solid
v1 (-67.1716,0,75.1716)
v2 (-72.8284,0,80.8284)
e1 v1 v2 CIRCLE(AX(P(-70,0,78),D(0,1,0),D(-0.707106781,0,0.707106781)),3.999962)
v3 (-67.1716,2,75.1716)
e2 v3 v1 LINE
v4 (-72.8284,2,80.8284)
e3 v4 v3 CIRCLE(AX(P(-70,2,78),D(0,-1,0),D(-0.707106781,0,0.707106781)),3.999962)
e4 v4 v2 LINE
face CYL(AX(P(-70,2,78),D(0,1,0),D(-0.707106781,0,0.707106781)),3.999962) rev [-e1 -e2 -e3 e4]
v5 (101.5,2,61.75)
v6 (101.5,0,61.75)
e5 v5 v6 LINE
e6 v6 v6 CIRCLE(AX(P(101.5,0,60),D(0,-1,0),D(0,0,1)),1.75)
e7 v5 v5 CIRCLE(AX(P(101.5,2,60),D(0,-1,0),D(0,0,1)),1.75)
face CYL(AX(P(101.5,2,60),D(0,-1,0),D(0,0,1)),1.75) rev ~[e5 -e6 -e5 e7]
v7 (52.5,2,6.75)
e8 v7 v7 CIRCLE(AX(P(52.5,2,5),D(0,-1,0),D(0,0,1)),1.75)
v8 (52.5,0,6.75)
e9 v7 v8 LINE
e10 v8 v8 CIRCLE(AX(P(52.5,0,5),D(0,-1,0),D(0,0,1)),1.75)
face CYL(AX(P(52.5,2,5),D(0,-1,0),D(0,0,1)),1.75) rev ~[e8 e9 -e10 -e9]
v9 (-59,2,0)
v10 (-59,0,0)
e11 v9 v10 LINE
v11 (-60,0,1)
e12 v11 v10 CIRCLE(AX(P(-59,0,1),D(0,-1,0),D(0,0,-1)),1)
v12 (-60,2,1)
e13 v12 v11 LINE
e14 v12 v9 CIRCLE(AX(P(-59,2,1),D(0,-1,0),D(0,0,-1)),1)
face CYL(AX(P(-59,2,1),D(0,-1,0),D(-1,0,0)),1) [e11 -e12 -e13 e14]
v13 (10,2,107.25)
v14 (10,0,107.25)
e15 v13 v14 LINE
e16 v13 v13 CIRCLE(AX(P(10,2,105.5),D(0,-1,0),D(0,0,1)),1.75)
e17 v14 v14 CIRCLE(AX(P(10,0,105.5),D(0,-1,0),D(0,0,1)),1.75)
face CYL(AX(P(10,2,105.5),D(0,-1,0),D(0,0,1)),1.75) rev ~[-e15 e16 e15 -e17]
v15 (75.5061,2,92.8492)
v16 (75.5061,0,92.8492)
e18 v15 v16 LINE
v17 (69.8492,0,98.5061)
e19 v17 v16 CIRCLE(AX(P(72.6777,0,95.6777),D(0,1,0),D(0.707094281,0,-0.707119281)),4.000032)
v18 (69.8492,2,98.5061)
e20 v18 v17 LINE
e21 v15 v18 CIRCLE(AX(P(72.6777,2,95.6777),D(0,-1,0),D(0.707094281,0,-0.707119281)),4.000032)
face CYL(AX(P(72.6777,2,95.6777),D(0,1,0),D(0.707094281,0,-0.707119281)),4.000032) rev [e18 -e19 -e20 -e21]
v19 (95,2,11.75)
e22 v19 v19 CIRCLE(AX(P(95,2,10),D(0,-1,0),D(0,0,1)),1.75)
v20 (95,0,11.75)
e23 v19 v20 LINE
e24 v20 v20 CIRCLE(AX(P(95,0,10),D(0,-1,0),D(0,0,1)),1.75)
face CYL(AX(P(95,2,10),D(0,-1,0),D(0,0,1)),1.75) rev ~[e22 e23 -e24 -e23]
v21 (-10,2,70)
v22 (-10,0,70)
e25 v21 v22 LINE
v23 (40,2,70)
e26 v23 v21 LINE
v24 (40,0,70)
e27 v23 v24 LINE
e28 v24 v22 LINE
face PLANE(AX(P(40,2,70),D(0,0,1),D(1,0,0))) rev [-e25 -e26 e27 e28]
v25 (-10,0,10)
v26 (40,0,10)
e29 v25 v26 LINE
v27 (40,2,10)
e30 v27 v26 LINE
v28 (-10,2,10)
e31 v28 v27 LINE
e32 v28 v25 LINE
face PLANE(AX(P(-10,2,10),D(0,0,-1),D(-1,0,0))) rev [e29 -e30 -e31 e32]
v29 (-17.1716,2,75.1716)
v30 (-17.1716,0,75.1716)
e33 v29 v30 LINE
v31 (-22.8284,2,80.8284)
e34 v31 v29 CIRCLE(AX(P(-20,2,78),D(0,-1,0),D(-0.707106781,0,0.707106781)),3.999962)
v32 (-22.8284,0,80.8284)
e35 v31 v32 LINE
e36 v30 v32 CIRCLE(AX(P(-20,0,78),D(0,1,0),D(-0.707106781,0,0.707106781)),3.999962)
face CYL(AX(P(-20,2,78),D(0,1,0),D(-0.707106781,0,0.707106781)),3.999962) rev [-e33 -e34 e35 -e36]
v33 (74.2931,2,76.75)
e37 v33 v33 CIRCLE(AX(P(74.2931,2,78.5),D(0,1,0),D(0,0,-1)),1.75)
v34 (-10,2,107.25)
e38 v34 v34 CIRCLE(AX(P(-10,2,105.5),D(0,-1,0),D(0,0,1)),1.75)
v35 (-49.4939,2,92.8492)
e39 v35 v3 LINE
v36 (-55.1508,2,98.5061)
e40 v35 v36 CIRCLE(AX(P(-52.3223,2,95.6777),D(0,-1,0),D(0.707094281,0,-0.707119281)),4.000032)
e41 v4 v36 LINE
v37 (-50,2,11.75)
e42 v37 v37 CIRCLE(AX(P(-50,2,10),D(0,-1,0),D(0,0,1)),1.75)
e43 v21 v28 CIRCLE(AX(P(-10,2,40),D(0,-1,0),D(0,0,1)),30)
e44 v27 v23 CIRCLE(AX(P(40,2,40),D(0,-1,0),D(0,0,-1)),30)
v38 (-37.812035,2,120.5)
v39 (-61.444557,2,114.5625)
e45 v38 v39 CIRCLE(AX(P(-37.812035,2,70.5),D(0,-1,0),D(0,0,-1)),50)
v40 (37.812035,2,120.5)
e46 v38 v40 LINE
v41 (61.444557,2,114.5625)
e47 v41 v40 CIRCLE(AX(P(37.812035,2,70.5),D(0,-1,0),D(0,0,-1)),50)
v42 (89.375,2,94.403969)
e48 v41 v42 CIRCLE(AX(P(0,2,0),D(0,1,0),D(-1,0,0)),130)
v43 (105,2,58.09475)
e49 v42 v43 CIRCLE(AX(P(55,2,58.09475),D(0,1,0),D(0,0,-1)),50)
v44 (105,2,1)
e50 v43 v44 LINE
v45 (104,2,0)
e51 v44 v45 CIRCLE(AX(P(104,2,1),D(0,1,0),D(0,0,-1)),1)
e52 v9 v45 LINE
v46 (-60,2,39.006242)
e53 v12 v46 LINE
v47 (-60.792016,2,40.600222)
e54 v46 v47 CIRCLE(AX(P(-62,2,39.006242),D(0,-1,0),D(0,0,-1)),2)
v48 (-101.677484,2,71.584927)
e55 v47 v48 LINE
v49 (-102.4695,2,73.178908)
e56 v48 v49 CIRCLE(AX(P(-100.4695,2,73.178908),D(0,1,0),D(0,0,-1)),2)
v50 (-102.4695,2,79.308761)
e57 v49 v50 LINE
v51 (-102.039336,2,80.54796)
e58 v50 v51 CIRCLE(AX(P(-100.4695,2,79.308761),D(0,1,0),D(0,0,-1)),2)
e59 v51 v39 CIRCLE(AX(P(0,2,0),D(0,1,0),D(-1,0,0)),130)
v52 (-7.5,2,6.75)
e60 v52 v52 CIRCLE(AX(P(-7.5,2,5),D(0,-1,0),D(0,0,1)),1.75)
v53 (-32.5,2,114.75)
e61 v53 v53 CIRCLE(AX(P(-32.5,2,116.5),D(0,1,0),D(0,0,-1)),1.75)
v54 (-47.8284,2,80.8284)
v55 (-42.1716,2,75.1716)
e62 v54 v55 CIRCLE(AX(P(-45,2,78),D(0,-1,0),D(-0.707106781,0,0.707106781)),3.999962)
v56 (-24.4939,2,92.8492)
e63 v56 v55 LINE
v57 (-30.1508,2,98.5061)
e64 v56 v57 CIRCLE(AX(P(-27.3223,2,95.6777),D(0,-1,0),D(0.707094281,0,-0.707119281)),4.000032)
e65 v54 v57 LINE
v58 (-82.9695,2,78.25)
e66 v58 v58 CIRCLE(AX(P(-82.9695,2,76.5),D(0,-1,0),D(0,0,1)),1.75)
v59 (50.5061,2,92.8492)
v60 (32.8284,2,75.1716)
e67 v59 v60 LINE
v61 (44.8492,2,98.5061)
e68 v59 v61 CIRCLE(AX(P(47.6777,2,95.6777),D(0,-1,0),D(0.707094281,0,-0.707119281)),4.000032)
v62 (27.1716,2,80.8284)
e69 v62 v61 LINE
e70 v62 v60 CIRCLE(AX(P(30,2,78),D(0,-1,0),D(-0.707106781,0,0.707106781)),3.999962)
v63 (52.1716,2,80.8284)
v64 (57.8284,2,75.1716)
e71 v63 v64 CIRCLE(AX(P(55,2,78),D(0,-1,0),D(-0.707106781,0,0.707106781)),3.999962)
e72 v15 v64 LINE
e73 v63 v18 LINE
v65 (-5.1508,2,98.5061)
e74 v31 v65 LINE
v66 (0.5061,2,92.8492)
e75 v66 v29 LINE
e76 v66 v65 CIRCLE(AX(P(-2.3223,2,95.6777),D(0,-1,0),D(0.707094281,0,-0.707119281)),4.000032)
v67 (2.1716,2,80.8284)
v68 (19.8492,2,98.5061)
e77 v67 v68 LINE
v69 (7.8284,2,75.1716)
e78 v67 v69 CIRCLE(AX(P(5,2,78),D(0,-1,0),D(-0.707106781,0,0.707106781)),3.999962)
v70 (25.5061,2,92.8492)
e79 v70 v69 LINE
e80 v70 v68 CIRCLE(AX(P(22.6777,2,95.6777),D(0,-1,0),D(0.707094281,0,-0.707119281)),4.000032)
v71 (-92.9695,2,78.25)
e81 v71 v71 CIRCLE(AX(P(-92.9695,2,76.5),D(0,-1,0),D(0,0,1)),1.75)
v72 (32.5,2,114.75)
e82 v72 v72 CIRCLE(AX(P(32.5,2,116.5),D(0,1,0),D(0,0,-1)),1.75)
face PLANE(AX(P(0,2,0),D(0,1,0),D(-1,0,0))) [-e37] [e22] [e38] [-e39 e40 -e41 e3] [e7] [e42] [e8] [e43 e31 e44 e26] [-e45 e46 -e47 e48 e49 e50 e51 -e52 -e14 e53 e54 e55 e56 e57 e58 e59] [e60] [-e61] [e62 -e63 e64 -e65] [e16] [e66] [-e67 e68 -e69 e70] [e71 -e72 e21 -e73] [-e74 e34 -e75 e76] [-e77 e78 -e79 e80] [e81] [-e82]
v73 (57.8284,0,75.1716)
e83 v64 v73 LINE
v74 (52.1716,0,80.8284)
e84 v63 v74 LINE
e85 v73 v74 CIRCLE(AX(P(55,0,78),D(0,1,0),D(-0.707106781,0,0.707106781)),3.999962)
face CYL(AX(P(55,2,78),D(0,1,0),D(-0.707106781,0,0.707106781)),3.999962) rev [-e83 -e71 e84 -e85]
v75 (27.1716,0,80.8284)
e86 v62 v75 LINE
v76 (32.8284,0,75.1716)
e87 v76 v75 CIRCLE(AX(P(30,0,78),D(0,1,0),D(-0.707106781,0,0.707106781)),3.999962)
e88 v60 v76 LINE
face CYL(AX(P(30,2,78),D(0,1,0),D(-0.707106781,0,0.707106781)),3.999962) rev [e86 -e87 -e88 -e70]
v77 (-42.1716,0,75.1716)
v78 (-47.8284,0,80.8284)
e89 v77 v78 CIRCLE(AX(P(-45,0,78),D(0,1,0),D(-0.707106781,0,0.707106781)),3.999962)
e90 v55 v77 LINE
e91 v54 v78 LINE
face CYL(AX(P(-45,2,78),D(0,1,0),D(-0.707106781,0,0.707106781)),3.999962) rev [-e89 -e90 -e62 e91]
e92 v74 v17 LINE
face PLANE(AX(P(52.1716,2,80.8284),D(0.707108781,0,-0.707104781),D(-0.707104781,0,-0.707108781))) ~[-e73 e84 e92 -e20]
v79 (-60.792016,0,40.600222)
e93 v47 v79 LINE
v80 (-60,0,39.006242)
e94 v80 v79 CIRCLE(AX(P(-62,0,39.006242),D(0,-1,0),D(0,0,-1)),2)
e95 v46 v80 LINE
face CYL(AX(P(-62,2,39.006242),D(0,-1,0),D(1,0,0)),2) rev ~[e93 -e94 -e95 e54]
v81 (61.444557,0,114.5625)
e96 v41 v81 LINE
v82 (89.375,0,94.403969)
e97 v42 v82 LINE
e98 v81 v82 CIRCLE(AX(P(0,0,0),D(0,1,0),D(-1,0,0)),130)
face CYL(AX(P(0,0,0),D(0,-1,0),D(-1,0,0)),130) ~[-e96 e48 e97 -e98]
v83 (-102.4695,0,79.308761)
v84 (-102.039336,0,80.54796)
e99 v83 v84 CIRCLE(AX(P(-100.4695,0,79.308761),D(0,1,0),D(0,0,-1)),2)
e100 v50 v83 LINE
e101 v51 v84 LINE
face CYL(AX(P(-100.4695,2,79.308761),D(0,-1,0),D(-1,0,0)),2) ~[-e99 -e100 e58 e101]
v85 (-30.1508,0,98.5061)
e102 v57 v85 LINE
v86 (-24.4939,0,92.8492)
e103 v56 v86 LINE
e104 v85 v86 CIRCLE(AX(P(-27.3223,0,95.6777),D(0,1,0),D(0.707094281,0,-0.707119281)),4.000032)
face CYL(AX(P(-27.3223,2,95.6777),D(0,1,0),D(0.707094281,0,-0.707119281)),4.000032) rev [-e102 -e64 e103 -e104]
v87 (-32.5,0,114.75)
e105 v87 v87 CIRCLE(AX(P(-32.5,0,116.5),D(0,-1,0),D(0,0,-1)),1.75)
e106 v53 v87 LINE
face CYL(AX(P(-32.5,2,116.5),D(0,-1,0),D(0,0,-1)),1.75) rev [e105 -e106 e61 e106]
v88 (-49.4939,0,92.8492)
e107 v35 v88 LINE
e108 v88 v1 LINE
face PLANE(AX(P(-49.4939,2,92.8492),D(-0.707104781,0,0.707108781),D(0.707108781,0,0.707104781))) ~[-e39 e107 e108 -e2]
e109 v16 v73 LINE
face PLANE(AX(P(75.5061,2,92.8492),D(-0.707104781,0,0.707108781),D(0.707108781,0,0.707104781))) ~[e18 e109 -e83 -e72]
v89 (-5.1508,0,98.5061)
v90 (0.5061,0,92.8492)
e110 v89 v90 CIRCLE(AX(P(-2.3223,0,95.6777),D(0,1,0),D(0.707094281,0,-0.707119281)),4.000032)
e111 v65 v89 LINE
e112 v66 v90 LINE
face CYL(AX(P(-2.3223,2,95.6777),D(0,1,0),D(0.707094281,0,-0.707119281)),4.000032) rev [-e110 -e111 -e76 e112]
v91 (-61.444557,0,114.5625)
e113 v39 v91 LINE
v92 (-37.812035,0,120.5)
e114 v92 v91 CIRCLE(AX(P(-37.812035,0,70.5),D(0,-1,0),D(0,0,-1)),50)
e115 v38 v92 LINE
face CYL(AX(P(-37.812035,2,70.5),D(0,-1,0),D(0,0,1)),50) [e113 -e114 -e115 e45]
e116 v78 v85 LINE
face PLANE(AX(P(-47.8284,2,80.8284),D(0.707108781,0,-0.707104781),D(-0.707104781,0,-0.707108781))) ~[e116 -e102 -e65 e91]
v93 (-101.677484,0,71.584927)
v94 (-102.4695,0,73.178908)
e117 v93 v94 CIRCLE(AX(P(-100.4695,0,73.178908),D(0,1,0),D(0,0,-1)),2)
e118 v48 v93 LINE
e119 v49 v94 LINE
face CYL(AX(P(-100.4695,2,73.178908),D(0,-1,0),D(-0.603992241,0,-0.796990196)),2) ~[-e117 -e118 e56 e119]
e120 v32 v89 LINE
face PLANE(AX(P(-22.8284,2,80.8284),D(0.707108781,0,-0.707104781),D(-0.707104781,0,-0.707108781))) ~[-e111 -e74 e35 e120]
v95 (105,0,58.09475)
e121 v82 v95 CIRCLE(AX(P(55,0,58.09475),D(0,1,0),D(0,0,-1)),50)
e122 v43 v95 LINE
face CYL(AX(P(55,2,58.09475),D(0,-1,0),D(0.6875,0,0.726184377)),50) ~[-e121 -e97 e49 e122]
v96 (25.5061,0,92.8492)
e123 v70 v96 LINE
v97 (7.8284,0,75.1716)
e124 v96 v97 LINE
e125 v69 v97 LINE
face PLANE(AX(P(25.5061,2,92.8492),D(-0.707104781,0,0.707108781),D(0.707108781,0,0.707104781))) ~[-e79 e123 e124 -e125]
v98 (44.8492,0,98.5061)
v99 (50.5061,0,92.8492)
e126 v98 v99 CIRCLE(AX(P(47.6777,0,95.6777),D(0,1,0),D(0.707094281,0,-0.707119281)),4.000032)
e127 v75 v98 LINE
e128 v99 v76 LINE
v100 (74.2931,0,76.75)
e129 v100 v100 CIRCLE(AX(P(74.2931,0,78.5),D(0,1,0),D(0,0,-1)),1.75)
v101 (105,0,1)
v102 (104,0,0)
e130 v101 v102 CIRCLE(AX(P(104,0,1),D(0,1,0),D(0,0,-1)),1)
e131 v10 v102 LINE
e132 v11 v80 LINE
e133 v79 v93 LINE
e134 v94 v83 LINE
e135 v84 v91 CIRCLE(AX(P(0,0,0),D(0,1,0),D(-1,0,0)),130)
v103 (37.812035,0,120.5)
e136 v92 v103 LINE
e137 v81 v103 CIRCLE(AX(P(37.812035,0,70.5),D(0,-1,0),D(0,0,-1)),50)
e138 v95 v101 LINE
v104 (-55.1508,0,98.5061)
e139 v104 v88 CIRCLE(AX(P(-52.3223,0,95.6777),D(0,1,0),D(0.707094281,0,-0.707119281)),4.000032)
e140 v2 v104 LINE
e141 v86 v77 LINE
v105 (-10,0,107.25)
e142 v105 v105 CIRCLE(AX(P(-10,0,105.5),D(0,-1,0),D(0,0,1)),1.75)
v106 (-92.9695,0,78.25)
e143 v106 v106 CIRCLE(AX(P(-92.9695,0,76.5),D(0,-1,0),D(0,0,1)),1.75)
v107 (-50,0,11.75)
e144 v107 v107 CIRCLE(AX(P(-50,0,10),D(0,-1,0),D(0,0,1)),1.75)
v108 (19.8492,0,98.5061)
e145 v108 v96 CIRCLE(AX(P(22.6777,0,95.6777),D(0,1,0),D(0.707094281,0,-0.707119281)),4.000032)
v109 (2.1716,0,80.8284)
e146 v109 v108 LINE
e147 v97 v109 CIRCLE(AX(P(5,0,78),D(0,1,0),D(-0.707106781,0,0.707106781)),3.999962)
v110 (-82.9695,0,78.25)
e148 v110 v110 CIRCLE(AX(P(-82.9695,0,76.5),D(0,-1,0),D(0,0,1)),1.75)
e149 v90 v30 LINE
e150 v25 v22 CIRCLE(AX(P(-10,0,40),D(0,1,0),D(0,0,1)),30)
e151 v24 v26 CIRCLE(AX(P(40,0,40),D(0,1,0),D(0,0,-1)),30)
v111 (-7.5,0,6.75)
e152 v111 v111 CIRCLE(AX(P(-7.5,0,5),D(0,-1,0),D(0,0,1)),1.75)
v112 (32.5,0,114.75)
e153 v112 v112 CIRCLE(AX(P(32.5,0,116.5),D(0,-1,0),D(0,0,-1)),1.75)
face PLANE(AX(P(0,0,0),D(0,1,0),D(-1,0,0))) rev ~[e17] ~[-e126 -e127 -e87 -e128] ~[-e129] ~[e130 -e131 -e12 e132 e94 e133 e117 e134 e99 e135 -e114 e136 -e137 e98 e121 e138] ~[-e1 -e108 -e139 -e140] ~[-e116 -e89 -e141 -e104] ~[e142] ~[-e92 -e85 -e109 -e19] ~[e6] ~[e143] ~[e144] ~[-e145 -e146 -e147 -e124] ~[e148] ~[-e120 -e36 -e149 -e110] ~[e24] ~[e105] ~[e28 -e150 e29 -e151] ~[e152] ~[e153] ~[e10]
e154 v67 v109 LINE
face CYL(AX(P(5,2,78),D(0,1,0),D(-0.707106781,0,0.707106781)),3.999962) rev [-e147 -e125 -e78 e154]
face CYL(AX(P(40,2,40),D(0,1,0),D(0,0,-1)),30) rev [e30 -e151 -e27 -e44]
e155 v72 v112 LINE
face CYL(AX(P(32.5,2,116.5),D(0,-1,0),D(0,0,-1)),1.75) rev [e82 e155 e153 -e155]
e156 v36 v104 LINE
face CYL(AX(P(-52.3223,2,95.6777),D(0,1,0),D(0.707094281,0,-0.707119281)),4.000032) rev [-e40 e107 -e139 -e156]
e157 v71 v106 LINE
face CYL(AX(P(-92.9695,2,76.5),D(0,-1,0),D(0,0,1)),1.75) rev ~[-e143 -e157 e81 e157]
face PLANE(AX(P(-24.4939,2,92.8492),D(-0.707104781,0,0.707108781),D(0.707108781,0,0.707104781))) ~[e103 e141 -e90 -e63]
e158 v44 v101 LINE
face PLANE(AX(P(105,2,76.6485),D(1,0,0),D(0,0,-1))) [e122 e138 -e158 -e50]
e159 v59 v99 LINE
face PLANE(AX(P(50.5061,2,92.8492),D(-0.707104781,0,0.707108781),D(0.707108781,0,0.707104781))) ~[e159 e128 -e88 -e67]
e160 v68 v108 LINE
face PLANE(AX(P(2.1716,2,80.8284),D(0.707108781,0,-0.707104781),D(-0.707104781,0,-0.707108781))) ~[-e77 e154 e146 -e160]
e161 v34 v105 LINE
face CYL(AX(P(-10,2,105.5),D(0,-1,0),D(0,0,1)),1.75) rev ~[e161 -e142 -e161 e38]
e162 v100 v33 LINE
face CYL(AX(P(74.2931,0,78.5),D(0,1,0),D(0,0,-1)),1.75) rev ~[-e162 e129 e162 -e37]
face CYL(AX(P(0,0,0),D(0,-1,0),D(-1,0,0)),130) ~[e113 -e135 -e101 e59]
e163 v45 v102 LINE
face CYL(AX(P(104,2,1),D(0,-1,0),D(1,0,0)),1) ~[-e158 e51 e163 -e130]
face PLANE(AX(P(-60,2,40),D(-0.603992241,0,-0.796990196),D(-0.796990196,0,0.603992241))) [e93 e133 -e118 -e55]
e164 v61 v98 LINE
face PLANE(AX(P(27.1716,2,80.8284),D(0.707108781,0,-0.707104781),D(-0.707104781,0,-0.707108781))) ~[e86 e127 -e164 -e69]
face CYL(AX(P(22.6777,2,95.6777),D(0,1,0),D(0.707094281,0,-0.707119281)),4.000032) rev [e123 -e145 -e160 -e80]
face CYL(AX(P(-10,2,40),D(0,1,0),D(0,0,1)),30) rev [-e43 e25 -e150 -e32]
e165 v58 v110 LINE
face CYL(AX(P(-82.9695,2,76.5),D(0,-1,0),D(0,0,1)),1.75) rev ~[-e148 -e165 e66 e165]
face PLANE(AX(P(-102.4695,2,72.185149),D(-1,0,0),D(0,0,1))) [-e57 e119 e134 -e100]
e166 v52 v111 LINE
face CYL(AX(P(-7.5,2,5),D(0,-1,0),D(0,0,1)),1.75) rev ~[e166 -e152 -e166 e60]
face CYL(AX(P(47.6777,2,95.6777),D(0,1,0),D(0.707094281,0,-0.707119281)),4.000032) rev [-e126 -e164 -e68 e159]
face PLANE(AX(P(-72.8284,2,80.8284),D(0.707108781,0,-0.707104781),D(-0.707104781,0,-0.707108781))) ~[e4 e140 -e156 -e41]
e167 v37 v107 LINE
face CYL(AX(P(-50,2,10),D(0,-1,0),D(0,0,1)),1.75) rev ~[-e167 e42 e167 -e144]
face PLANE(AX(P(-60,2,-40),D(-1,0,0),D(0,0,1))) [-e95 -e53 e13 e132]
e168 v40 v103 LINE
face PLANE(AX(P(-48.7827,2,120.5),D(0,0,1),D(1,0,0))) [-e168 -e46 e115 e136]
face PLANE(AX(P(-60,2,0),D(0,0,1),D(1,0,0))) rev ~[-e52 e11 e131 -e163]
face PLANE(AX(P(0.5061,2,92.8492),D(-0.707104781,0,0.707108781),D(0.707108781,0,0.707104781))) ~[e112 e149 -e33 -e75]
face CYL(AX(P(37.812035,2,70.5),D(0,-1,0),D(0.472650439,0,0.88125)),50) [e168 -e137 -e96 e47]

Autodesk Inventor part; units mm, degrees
ref_plane "YZ Plane" through (0, 0, 0) normal (1, 0, 0) x (0, 1, 0)
ref_plane "XZ Plane" through (0, 0, 0) normal (0, 1, 0) x (-1, 0, 0)
ref_plane "XY Plane" through (0, 0, 0) normal (0, 0, 1) x (1, 0, 0)
sketch "スケッチ1" plane through (0, 0, 0) normal (0, 1, 0) x (-1, 0, 0)
  circle A0 centre (0, 0) radius 130
  dimension "d0" = 260
extrude "プレート1" add sketch "スケッチ1" along normal blind 2
sketch "スケッチ4" plane through (0, 2, 0) normal (0, 1, 0) x (1, 0, 0)
  circle A0 centre (0, 0) radius 130 projected
  line L0 (-106.1838, 75) -> (-60, 40)
  line L1 (-60, 40) -> (-60, -40)
  line L2 (-60, -40) -> (-106.1838, -75)
  point P0 (-60, 0)
  dimension "d17" = 40
  dimension "d18" = 75
  dimension "d19" = 60
extrude "押し出し2" cut sketch "スケッチ4" against normal through all contours L0 L1 L2 A0 picked at (-83.3333, 0)
sketch "スケッチ7" plane through (0, 2, 0) normal (0, 1, 0) x (1, 0, 0)
  arc A0 (-106.1838, -75) -> (-106.1838, 75) centre (0, 0) ccw projected
  line L0 (-48.7827, 120.5) -> (48.7827, 120.5)
  line L1 (-48.7827, -120.5) -> (48.7827, -120.5)
  line L2 (105, -76.6485) -> (105, 76.6485)
  dimension "d68" = 120.5
  dimension "d69" = 120.5
  dimension "d70" = 105
extrude "押し出し4" cut sketch "スケッチ7" against normal through all
fillet "フィレット4" radius 50 6 edges at (-48.7827, 1, 120.5) (48.7827, 1, 120.5) (105, 1, -76.6485) (105, 1, 76.6485) (-48.7827, 1, -120.5) (48.7827, 1, -120.5)
sketch "スケッチ9" plane through (0, 2, 0) normal (0, 1, 0) x (1, 0, 0)
  line L0 (101.5, -60) -> (101.5, 60) construction
  line L1 (101.5, -60) -> (221.5, -60) construction
  line L2 (105, -58.0948) -> (105, 58.0948) construction
  point P0 (0, 0)
  point P1 (101.5, 0)
  dimension "d71" = 120
  dimension "d72" = 90
  dimension "d73" = 3.5
hole "穴4" at (101.5, 2, 60) at (101.5, 2, -60) direction (0, -1, 0) diameter 3.5 depth 2 tip angle 118
sketch "スケッチ10" plane through (0, 2, 0) normal (0, 1, 0) x (1, 0, 0)
  line L0 (10, -105.5) -> (-10, -105.5) construction
  line L1 (-10, -105.5) -> (-10, 105.5) construction
  line L2 (-10, 105.5) -> (10, 105.5) construction
  line L3 (10, 105.5) -> (10, -105.5) construction
  line L4 (10, -105.5) -> (-10, 105.5) construction
  line L5 (-10, -105.5) -> (10, 105.5) construction
  point P0 (0, 0)
  dimension "d81" = 20
  dimension "d82" = 211
hole "穴5" at (-10, 2, 105.5) at (10, 2, 105.5) at (10, 2, -105.5) at (-10, 2, -105.5) direction (0, -1, 0) diameter 3.5 depth 2 tip angle 118
sketch "スケッチ11" plane through (0, 2, 0) normal (0, 1, 0) x (1, 0, 0)
  line L0 (-32.5, 116.5) -> (32.5, 116.5) construction
  line L1 (-32.5, 116.5) -> (32.5, 116.5) construction
  line L2 (37.812, 120.5) -> (-37.812, 120.5) construction
  point P0 (0, 0)
  point P1 (0, 116.5)
  dimension "d90" = 65
  dimension "d91" = 0
  dimension "d92" = 4
hole "穴6" at (32.5, 2, -116.5) at (-32.5, 2, -116.5) direction (0, -1, 0) diameter 3.5 end through all
mirror "ミラー3" about plane through (0, 0, 0) normal (0, 0, 1) of "穴6"
sketch "スケッチ12" plane through (0, 2, 0) normal (0, 1, 0) x (1, 0, 0)
  line L0 (-50, 10) -> (-50, -10) construction
  line L1 (-50, 10) -> (-30, 10) construction
  line L2 (-60, 40) -> (-60, -40) construction
  point P0 (0, 0)
  point P1 (-50, 0)
  dimension "d100" = 20
  dimension "d101" = 90
  dimension "d102" = 10
hole "穴7" at (-50, 2, 10) at (-50, 2, -10) direction (0, -1, 0) diameter 3.5 end through all
sketch "スケッチ13" plane through (0, 2, 0) normal (0, 1, 0) x (1, 0, 0)
  line L0 (-10, 40) -> (40, 40) construction
  line L1 (-10, 10) -> (40, 10)
  line L2 (40, 70) -> (-10, 70)
  arc A0 (-10, 70) -> (-10, 10) centre (-10, 40) ccw
  arc A1 (40, 10) -> (40, 70) centre (40, 40) ccw
  point P0 (0, 0)
  point P1 (15, 40)
  dimension "d110" = 40
  dimension "d111" = 60
  dimension "d112" = 50
  dimension "d113" = 15
extrude "押し出し5" cut sketch "スケッチ13" against normal through all
sketch "スケッチ14" plane through (0, 2, 0) normal (0, 1, 0) x (1, 0, 0)
  line L0 (72.6777, 95.6777) -> (55, 78) construction
  line L1 (75.5061, 92.8492) -> (57.8284, 75.1716)
  line L2 (52.1716, 80.8284) -> (69.8492, 98.5061)
  arc A0 (75.5061, 92.8492) -> (69.8492, 98.5061) centre (72.6777, 95.6777) ccw
  arc A1 (52.1716, 80.8284) -> (57.8284, 75.1716) centre (55, 78) ccw
  line L3 (-10, 70) -> (40, 70) projected
  point P0 (0, 0)
  point P1 (63.8388, 86.8388)
  dimension "d116" = 135
  dimension "d117" = 8
  dimension "d118" = 25
  dimension "d119" = 4
  dimension "d120" = 15
extrude "押し出し6" cut sketch "スケッチ14" against normal through all
pattern_linear "矩形状パターン1" count 6 spacing 25 along (-1, 0, 0) of "押し出し6"
mirror "ミラー4" about plane through (0, 0, 0) normal (0, 0, 1) of "押し出し5", "押し出し6", "矩形状パターン1"
sketch "スケッチ15" plane through (0, 0, 0) normal (0, -1, 0) x (1, 0, 0)
  arc A0 (73.6766, 79.5874) -> (73.6766, 77.4126) centre (74.2931, 78.5) ccw projected
  arc A1 (74.9095, -79.5874) -> (74.9095, -77.4126) centre (74.2931, -78.5) ccw projected
  point P0 (0, 0)
hole "穴8" at (74.2931, 0, -78.5) at (74.2931, 0, 78.5) direction (0, 1, 0) diameter 3.5 end through all
sketch "スケッチ16" plane through (0, 2, 0) normal (0, 1, 0) x (1, 0, 0)
  arc A0 (-61.4446, 114.5625) -> (-106.1838, 75) centre (0, 0) ccw projected
  arc A1 (-106.1838, -75) -> (-61.4446, -114.5625) centre (0, 0) ccw projected
  line L0 (-102.4695, 80) -> (-102.4695, -80)
  line L1 (-102.4695, 80) -> (57.5305, 80) construction
  line L2 (-106.1838, 75) -> (-60, 40) projected
  line L3 (-60, -40) -> (-106.1838, -75) projected
  point P0 (-102.4695, 72.1852)
  point P1 (-102.4695, -72.1852)
  dimension "d133" = 160
  dimension "d134" = 90
extrude "押し出し7" cut sketch "スケッチ16" against normal through all
sketch "スケッチ17" plane through (0, 2, 0) normal (0, 1, 0) x (1, 0, 0)
  line L0 (-92.9695, 76.5) -> (-82.9695, 76.5) construction
  line L1 (-82.9695, 76.5) -> (-82.9695, -76.5) construction
  line L2 (-82.9695, -76.5) -> (-92.9695, -76.5) construction
  line L3 (-92.9695, -76.5) -> (-92.9695, 76.5) construction
  line L4 (-92.9695, 76.5) -> (-82.9695, -76.5) construction
  line L5 (-82.9695, 76.5) -> (-92.9695, -76.5) construction
  line L6 (-102.4695, 80) -> (-102.4695, 72.1852) construction
  point P0 (0, 0)
  point P1 (-87.9695, 0)
  dimension "d137" = 10
  dimension "d138" = 153
  dimension "d139" = 9.5
hole "穴9" at (-92.9695, 2, -76.5) at (-82.9695, 2, -76.5) at (-92.9695, 2, 76.5) at (-82.9695, 2, 76.5) direction (0, -1, 0) diameter 3.5 end through all
fillet "フィレット5" radius 2 6 edges at (-102.4695, 1, -72.1852) (-102.4695, 1, 80) (-102.4695, 1, -80) (-60, 1, -40) (-60, 1, 40) (-102.4695, 1, 72.1852)
sketch "スケッチ18" plane through (0, 2, 0) normal (0, 1, 0) x (1, 0, 0)
  line L0 (105, -58.0948) -> (105, 58.0948) projected
  line L1 (-60, 39.0062) -> (-60, -39.0062) projected
  line L2 (-60, 0) -> (105, 0) construction
  circle A0 centre (-50, 10) radius 1.75 construction
  line L3 (95, -10) -> (-50, -10) construction
  line L4 (-50, -10) -> (-50, 10) construction
  line L5 (-50, 10) -> (95, 10) construction
  line L6 (95, 10) -> (95, -10) construction
  line L7 (95, -10) -> (-50, 10) construction
  line L8 (-50, -10) -> (95, 10) construction
  line L9 (52.5, -5) -> (-7.5, -5) construction
  line L10 (-7.5, -5) -> (-7.5, 5) construction
  line L11 (-7.5, 5) -> (52.5, 5) construction
  line L12 (52.5, 5) -> (52.5, -5) construction
  line L13 (52.5, -5) -> (-7.5, 5) construction
  line L14 (-7.5, -5) -> (52.5, 5) construction
  point P0 (0, 0)
  point P1 (22.5, 0)
  point P2 (22.5, 0)
  dimension "d148" = 60
  dimension "d149" = 10
hole "穴10" at (95, 2, 10) at (95, 2, -10) at (52.5, 2, 5) at (52.5, 2, -5) at (-7.5, 2, -5) at (-7.5, 2, 5) direction (0, -1, 0) diameter 3.5 end through all
sketch "スケッチ19" plane through (0, 2, 0) normal (0, 1, 0) x (1, 0, 0)
  line L0 (-60, 39.0062) -> (-60, -39.0062) projected
  arc A0 (-60, 39.0062) -> (-60.792, 40.6002) centre (-62, 39.0062) ccw projected
  line L1 (-101.6775, 71.5849) -> (-60.792, 40.6002) projected
  arc A1 (-102.4695, 73.1789) -> (-101.6775, 71.5849) centre (-100.4695, 73.1789) ccw projected
  line L2 (-102.4695, 79.3088) -> (-102.4695, 73.1789) projected
  arc A2 (-102.0393, 80.548) -> (-102.4695, 79.3088) centre (-100.4695, 79.3088) ccw projected
  arc A3 (-61.4446, 114.5625) -> (-102.0393, 80.548) centre (0, 0) ccw projected
  arc A4 (-37.812, 120.5) -> (-61.4446, 114.5625) centre (-37.812, 70.5) ccw projected
  line L3 (37.812, 120.5) -> (-37.812, 120.5) projected
  arc A5 (61.4446, 114.5625) -> (37.812, 120.5) centre (37.812, 70.5) ccw projected
  arc A6 (89.375, 94.404) -> (61.4446, 114.5625) centre (0, 0) ccw projected
  arc A7 (105, 58.0948) -> (89.375, 94.404) centre (55, 58.0948) ccw projected
  line L4 (105, -58.0948) -> (105, 58.0948) projected
  line L5 (-60, 0) -> (105, 0)
extrude "押し出し8" cut sketch "スケッチ19" against normal through all
fillet "フィレット6" radius 1 2 edges at (-60, 1, 0) (105, 1, 0)
sketch "スケッチ20" plane through (0, 0, 0) normal (0, 1, 0) x (-1, 0, 0)
  line L0 (115.5948, 100.5744) -> (-72.3437, 168.9784)
  line L1 (-72.3437, 168.9784) -> (-130.4866, 9.2322)
  line L2 (-130.4866, 9.2322) -> (57.4519, -59.1718)
  line L3 (57.4519, -59.1718) -> (115.5948, 100.5744)
  line L4 (-104, 0) -> (59, 0) projected
  point P0 (0, 0)
  dimension "d161" = 200
  dimension "d162" = 20
equation "\"d69\" = d68"
equation "\"d79\" = Thickness"
equation "\"d88\" = Thickness"
equation "\"d98\" = Thickness"
equation "\"d108\" = Thickness"
equation "\"d131\" = Thickness"
equation "\"d145\" = Thickness"
equation "\"d155\" = Thickness"
equation "\"d1\" = Thickness"
equation "\"BendRadius\" = Thickness"
equation "\"BendReliefWidth\" = Thickness"
equation "\"BendReliefDepth\" = 0.5 * Thickness"
equation "\"CornerReliefSize\" = 4 * Thickness"
equation "\"MinimumRemnant\" = 2 * Thickness"
equation "\"TransitionRadius\" = BendRadius"
equation "\"JacobiRadiusSize\" = BendRadius"
equation "\"GapSize\" = Thickness"
equation "\"Thickness\" = 2"
properties part number "T2.0_frame-base3"
